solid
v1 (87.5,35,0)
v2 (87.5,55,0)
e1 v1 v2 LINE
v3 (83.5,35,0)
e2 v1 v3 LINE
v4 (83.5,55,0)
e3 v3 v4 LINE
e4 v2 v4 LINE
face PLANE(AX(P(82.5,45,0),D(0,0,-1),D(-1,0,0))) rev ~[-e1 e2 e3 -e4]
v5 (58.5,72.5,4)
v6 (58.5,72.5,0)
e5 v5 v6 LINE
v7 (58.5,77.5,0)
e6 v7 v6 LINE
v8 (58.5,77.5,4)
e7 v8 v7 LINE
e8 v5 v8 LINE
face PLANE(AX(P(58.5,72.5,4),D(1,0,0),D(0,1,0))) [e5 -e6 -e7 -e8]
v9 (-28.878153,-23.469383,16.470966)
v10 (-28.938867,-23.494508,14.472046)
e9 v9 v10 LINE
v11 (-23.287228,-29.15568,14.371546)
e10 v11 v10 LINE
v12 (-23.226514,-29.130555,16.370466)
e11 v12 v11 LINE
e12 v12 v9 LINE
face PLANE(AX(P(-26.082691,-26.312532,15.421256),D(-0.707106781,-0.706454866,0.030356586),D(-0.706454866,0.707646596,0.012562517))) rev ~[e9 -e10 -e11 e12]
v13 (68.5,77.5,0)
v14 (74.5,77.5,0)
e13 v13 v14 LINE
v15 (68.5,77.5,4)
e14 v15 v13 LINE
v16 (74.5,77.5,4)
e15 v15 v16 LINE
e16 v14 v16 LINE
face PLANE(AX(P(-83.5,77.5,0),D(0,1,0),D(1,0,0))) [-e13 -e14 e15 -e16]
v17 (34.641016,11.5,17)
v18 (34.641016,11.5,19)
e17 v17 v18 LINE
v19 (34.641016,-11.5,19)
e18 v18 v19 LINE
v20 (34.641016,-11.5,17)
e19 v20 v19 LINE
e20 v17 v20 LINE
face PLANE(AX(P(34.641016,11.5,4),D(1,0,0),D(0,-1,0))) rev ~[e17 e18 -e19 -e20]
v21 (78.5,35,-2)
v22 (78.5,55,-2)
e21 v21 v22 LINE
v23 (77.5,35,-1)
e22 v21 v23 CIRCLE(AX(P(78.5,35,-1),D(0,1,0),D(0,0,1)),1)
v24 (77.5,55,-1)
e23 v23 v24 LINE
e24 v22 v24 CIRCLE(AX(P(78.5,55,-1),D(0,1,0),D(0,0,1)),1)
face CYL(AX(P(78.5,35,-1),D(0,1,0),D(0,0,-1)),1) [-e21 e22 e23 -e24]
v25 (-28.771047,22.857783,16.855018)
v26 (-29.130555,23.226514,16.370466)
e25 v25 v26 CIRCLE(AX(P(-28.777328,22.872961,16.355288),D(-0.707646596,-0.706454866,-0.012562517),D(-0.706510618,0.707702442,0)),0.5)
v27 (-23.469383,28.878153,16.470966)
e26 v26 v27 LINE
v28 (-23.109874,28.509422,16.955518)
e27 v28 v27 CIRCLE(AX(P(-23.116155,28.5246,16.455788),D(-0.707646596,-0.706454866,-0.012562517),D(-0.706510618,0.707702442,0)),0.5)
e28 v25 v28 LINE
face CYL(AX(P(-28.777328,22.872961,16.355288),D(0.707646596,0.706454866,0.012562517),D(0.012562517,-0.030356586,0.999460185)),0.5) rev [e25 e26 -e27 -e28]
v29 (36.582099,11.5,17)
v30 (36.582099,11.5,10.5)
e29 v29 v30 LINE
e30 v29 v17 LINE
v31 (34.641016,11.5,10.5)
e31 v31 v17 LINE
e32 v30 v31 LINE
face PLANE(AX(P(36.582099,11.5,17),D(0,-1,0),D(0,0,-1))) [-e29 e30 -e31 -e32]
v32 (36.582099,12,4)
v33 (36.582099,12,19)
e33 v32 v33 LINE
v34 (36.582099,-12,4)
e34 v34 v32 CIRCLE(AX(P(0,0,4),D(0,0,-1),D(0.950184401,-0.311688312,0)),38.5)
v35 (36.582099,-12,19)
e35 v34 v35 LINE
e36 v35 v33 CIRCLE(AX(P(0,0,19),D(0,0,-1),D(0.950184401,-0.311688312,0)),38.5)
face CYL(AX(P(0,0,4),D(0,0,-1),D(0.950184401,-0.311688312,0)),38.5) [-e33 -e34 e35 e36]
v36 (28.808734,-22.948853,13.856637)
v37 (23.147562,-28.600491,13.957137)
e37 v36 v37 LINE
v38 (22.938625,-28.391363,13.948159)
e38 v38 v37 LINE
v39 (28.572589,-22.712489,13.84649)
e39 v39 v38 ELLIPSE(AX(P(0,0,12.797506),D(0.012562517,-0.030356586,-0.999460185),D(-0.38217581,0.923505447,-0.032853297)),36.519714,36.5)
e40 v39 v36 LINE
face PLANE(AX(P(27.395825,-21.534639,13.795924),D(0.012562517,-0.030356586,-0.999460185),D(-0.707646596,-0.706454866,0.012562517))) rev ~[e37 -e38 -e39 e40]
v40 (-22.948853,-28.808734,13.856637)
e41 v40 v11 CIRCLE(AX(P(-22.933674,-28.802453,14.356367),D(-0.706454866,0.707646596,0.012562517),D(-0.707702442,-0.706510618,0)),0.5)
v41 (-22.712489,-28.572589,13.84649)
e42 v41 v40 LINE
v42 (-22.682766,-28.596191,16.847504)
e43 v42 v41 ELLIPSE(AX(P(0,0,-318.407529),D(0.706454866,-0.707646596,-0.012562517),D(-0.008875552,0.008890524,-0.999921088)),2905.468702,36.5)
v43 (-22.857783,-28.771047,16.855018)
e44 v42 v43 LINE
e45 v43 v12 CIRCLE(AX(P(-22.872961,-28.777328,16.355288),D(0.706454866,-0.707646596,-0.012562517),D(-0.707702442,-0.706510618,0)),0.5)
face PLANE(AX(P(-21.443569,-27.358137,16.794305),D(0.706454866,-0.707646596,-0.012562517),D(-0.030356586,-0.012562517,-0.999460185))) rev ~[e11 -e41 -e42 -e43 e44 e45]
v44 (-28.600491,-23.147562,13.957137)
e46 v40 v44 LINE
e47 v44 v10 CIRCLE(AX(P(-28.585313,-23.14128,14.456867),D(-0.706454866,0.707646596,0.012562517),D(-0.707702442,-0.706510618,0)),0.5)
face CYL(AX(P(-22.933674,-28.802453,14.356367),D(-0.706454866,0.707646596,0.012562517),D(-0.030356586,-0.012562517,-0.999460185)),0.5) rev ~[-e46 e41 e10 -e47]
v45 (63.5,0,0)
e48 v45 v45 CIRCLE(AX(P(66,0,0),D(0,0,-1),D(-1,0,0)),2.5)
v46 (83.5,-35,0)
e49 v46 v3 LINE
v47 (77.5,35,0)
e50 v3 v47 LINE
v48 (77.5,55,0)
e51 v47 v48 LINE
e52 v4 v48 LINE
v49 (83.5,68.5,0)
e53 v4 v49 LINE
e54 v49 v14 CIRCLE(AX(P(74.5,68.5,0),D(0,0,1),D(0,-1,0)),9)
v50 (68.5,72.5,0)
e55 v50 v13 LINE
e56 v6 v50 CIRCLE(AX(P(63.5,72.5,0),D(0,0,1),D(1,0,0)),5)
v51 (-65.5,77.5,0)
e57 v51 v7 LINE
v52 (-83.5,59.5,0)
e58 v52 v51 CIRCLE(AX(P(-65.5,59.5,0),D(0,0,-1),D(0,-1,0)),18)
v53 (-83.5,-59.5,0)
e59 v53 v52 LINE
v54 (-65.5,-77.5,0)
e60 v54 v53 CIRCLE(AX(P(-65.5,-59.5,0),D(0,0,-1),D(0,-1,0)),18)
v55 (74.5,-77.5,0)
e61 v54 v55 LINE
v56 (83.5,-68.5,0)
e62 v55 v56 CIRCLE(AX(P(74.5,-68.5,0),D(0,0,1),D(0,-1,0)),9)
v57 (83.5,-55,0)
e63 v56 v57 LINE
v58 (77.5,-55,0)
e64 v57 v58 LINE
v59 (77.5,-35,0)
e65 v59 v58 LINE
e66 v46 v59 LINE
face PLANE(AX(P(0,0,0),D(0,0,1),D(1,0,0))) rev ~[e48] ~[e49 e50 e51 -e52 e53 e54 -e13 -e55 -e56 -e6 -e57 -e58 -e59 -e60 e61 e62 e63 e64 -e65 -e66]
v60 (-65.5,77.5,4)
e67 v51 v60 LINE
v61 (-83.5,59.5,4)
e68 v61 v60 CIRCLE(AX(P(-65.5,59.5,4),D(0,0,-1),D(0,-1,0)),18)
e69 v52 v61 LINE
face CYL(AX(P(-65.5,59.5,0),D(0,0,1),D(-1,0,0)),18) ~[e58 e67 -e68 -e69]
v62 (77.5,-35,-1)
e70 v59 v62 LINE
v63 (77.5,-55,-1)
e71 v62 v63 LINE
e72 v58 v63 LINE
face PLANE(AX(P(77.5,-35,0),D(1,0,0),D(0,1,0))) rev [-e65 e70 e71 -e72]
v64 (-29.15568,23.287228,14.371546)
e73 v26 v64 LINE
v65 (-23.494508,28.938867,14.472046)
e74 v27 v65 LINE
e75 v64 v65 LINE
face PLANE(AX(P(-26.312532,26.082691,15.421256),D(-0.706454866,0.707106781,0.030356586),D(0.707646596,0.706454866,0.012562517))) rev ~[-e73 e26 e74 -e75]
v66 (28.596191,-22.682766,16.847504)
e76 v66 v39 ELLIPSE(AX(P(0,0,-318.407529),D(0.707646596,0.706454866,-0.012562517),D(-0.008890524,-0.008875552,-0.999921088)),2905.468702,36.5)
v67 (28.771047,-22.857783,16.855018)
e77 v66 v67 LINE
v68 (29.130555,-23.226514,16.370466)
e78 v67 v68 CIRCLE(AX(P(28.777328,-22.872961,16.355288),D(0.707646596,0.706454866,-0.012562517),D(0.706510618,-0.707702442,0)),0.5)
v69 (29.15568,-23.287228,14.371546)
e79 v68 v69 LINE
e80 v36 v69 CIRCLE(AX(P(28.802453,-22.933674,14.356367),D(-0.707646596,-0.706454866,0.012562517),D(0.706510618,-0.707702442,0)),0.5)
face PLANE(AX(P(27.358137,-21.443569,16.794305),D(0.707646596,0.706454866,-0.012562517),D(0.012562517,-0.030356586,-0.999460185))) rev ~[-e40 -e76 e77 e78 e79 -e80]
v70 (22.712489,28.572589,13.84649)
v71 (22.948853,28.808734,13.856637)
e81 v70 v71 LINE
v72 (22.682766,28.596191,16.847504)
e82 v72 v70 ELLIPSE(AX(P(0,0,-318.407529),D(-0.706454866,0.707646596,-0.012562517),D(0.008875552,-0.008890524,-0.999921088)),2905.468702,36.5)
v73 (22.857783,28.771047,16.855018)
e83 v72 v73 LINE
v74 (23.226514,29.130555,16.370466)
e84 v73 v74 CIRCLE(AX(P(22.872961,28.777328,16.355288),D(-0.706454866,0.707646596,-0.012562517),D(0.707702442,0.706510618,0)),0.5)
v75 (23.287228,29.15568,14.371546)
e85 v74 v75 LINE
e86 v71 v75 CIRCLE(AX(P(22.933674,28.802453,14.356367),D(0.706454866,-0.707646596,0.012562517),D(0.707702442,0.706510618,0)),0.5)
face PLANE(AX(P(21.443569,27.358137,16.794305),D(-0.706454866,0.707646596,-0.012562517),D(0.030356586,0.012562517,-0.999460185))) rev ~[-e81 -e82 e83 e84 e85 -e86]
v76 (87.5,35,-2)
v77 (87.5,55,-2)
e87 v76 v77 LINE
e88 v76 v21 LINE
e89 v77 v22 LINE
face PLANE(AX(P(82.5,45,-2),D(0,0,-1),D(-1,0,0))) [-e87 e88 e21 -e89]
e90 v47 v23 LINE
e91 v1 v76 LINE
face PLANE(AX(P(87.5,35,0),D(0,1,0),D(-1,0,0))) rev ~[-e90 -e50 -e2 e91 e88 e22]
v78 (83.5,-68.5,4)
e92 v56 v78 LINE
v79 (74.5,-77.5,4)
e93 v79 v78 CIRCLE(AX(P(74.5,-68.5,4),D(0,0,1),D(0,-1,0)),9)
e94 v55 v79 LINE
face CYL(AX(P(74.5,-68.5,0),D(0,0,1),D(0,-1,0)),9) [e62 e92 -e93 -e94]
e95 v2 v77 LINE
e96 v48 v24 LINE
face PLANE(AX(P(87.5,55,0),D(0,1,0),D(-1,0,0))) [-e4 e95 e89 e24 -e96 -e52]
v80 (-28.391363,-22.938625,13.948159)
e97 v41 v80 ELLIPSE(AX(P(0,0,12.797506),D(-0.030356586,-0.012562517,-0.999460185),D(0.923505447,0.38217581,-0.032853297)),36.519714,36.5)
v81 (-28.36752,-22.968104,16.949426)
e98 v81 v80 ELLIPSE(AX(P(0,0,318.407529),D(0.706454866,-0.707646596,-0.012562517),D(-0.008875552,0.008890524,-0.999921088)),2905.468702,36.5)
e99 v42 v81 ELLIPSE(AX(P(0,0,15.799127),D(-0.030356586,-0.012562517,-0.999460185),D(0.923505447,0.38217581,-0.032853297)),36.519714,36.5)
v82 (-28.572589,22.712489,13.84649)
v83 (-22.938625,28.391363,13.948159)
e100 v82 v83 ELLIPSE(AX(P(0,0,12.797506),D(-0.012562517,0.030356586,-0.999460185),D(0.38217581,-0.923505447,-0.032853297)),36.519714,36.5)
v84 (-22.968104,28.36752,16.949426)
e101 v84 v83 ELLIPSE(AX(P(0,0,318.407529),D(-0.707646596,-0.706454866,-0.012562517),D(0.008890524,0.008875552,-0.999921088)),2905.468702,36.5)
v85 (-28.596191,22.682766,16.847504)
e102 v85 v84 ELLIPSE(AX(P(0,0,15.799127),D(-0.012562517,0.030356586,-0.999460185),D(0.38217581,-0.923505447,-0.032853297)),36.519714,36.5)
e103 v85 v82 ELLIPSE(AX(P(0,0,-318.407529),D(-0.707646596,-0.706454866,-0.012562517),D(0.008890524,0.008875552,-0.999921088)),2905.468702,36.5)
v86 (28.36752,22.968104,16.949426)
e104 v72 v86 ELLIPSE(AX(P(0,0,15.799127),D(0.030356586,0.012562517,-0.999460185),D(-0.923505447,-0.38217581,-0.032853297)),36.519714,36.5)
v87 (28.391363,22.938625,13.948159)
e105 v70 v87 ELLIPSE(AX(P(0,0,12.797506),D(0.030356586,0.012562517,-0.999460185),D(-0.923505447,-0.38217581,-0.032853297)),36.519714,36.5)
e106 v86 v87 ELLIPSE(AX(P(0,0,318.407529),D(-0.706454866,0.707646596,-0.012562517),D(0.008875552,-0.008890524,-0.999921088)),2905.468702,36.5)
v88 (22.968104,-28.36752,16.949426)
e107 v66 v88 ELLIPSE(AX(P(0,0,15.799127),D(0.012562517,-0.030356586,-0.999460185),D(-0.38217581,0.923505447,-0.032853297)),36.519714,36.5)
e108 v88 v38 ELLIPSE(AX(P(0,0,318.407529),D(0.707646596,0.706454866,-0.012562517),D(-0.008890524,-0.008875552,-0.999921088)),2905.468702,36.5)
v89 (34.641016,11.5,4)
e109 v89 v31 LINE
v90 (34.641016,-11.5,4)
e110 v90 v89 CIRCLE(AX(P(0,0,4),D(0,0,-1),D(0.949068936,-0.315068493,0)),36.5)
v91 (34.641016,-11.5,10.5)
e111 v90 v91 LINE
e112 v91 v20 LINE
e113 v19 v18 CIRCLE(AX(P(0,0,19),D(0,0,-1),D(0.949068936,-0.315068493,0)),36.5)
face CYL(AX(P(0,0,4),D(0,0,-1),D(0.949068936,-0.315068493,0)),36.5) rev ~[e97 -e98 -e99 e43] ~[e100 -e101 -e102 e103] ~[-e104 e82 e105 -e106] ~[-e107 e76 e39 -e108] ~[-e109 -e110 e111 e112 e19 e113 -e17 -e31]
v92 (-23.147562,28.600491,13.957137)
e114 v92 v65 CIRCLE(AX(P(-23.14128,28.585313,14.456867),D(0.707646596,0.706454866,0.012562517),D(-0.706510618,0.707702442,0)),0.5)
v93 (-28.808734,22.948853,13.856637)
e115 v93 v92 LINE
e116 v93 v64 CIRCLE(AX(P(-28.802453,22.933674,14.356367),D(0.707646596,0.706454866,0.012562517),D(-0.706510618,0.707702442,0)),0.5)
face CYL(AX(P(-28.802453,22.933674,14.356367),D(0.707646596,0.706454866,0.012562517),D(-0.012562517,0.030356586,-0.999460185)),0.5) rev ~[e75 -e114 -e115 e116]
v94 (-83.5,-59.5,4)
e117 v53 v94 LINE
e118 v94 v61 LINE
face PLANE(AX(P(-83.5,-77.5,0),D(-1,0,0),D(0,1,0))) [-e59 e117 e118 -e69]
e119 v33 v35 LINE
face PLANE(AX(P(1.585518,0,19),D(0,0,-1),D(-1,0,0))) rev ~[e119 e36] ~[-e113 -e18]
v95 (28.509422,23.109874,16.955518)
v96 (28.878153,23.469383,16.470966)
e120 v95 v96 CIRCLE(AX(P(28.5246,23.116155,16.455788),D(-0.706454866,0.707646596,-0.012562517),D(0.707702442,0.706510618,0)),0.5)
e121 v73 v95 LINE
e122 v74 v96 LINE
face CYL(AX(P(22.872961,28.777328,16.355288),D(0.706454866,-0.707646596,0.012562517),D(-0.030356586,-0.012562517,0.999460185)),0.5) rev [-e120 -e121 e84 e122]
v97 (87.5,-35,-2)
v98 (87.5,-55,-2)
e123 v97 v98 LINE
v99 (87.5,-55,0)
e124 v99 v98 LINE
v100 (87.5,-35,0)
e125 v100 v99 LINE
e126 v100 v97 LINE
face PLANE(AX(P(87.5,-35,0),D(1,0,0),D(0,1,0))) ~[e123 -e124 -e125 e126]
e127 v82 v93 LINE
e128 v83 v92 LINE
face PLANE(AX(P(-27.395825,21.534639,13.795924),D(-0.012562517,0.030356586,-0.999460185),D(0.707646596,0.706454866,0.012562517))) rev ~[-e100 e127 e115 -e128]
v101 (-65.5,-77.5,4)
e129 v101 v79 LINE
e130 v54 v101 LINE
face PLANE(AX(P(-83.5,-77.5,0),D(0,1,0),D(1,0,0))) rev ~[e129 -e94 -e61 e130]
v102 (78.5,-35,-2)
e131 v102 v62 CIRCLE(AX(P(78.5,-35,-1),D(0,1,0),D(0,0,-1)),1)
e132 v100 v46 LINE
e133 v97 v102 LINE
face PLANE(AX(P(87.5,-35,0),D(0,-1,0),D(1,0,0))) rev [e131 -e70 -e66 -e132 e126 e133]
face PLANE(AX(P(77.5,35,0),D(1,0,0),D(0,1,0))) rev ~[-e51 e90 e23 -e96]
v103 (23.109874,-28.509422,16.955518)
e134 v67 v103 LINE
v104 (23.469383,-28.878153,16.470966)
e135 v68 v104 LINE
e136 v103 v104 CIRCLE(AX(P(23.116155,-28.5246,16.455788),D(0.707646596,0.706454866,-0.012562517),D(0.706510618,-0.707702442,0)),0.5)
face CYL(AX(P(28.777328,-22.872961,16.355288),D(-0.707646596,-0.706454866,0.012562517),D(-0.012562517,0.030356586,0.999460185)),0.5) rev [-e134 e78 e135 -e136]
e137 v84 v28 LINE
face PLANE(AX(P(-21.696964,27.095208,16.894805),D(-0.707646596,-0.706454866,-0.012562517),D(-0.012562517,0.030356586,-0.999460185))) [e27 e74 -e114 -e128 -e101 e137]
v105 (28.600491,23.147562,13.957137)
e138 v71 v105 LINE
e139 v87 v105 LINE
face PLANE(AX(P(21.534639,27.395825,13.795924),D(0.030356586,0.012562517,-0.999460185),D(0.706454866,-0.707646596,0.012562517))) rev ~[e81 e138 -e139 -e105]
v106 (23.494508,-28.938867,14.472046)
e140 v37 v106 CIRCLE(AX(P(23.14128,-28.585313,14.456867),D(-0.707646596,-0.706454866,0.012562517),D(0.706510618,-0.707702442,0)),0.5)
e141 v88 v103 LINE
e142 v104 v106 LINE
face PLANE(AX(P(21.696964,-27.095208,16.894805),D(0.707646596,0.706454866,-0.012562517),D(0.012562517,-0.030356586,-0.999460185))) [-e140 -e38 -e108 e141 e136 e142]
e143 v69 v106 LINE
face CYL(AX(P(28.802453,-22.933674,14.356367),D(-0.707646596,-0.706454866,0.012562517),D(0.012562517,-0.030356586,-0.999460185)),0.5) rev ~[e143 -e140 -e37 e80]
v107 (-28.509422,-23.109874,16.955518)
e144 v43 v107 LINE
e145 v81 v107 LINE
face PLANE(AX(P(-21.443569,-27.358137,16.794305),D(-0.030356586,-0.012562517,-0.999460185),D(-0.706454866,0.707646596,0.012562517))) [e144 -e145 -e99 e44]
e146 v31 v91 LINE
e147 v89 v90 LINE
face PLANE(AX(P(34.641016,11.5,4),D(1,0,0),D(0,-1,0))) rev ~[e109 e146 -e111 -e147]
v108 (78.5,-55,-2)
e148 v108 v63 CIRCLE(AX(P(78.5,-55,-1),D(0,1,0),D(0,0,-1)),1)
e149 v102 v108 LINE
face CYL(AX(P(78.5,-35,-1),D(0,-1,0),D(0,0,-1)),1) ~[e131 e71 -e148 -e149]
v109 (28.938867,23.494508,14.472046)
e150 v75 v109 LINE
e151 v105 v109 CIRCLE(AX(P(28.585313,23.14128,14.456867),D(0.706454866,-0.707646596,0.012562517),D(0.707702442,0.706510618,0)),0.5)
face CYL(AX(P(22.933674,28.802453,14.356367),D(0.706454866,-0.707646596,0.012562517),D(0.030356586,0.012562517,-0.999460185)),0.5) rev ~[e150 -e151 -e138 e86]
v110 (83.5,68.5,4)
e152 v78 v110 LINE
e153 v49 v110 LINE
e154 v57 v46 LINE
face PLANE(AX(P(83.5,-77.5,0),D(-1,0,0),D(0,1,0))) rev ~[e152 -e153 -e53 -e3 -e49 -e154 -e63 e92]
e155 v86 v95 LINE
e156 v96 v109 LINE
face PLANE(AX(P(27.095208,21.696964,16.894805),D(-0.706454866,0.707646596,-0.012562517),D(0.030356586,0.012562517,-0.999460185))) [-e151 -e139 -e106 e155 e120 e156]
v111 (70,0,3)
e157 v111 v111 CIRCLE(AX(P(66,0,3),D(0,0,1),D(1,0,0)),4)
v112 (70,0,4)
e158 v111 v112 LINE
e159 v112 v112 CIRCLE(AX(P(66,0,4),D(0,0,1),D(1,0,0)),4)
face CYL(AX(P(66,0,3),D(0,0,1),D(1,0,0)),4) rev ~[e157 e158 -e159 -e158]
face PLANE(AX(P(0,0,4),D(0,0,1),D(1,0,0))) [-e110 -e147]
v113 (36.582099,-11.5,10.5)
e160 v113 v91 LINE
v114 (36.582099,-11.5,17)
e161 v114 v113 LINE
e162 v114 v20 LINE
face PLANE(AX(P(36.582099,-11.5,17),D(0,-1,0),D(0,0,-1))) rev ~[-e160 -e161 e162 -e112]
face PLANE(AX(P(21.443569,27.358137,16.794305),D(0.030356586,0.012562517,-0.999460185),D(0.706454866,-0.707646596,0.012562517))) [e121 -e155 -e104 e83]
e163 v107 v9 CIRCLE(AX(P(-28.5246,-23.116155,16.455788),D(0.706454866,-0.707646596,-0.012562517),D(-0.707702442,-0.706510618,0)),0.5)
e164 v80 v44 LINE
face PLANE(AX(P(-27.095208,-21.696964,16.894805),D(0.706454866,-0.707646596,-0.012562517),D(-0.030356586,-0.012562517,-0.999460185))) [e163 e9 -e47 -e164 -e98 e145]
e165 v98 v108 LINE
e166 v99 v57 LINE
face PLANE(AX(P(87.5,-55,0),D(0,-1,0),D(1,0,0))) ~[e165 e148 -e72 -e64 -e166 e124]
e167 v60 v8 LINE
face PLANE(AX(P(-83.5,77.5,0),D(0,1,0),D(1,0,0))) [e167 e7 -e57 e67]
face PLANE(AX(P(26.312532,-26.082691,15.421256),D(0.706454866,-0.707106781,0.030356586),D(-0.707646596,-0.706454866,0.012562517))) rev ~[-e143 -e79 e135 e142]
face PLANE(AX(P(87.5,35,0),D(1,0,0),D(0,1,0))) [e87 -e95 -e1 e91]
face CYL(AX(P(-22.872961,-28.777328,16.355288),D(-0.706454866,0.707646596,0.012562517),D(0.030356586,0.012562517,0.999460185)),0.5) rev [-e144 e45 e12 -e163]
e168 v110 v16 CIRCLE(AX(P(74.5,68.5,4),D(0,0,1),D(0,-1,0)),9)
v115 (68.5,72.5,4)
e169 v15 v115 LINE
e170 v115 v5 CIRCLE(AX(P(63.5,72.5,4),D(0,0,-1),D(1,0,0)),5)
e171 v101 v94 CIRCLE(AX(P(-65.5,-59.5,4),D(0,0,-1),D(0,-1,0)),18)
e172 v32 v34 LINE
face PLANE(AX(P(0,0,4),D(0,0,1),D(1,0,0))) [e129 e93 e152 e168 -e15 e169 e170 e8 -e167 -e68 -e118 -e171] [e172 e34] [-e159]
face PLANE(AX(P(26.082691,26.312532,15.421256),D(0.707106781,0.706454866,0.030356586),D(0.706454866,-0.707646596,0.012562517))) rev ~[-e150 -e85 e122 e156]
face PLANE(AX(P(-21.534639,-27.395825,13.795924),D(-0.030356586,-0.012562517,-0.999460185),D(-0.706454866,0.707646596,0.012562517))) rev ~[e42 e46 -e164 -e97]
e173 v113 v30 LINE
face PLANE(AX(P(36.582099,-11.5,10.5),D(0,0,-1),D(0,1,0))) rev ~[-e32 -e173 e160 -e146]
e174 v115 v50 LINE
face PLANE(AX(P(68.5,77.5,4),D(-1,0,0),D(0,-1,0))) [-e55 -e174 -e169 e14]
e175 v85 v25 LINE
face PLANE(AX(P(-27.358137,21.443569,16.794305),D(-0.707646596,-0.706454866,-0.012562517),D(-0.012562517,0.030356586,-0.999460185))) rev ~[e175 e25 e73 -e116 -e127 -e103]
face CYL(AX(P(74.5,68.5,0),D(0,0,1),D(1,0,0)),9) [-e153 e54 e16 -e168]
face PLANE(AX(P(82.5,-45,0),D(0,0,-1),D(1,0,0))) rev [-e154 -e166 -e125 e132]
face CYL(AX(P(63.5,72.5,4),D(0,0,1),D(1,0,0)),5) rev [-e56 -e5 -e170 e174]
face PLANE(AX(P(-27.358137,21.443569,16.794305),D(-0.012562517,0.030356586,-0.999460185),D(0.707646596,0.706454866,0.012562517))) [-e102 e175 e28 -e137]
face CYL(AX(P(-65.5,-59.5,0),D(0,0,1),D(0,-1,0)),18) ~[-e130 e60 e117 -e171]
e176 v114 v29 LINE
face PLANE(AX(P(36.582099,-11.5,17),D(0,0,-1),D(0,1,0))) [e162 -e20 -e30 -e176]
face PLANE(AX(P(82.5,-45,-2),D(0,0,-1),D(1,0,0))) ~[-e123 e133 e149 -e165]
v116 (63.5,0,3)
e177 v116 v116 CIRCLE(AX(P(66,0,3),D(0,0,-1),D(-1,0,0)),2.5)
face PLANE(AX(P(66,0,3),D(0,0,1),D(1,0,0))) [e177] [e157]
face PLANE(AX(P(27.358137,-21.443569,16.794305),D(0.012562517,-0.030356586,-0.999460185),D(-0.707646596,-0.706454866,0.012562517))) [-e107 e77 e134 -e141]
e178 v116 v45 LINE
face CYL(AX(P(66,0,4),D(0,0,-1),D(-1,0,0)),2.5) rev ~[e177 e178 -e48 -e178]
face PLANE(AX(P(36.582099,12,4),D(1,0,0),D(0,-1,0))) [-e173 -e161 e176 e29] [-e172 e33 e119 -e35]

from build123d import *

# Parameters (mm, degrees)
SKETCH_1_W                       = 167
SKETCH_1_H                       = 155
EXTRUDE_1_DEPTH                  = 4
FILLET_1_R                       = 9
FILLET_2_R                       = 18
CUT_EXTRUDE_1_REACH              = 115.993
HOLE_WIZARD_1_D                  = 5
HOLE_WIZARD_1_CBORE_D            = 8
HOLE_WIZARD_1_CBORE_DEPTH        = 1
EXTRUDE_3_DEPTH                  = 15
CUT_EXTRUDE_2_REACH              = 146.177
SKETCH_13_W                      = 6.5
SKETCH_13_H                      = 23
SKETCH_15_W                      = 8
SKETCH_15_H                      = 3
CUT_EXTRUDE_3_DEPTH              = 2.5
FILLET_3_R                       = 0.5
PATTERN_CIRCULAR_1_COUNT         = 4
FILLET_3_OF_PATTERN_CIRCULAR_1_R = 0.5
SKETCH_18_W                      = 10
SKETCH_18_H                      = 20
EXTRUDE_4_DEPTH                  = 2
FILLET_4_R                       = 1
FILLET_4_OF_MIRROR_1_R           = 1


with BuildPart() as part:
    # ｽｹｯﾁ1 → ﾎﾞｽ - 押し出し1 (new body)
    with BuildSketch(Plane.XY):
        Rectangle(SKETCH_1_W, SKETCH_1_H)
    extrude(amount=EXTRUDE_1_DEPTH)

    # ﾌｨﾚｯﾄ1
    fillet_1_edges = [part.edges().sort_by_distance(p)[0] for p in [
        (83.5, -77.5, 2),
        (83.5, 77.5, 2),
    ]]
    fillet(fillet_1_edges, radius=FILLET_1_R)

    # ﾌｨﾚｯﾄ2
    fillet_2_edges = [part.edges().sort_by_distance(p)[0] for p in [
        (-83.5, -77.5, 2),
        (-83.5, 77.5, 2),
    ]]
    fillet(fillet_2_edges, radius=FILLET_2_R)

    # ｽｹｯﾁ2 → ｶｯﾄ - 押し出し1 (cut, up to next)
    with BuildSketch(Plane.XY.offset(4), mode=Mode.PRIVATE) as cut_extrude_1_sk1:
        with BuildLine():
            Line((58.5, 77.5), (68.5, 77.5))
            Line((68.5, 77.5), (68.5, 72.5))
            ThreePointArc((68.5, 72.5), (63.5, 67.5), (58.5, 72.5))
            Line((58.5, 72.5), (58.5, 77.5))
        make_face()
    cut_extrude_1_tool1 = extrude(cut_extrude_1_sk1.sketch, amount=-CUT_EXTRUDE_1_REACH, mode=Mode.PRIVATE) & part.part
    add(cut_extrude_1_tool1.solids().sort_by_distance((63.5, 72.966749, 4))[0], mode=Mode.SUBTRACT)

    # 穴1 (through all)
    with Locations(Plane.XY.offset(4)):
        with Locations((66, 0)):
            CounterBoreHole(HOLE_WIZARD_1_D / 2, HOLE_WIZARD_1_CBORE_D / 2, HOLE_WIZARD_1_CBORE_DEPTH)

    # ｽｹｯﾁ11 → ﾎﾞｽ - 押し出し3 (add)
    with BuildSketch(Plane.XY.offset(4)):
        with BuildLine():
            Line((36.582099448, 12), (36.582099448, -12))
            ThreePointArc((36.582099448, -12), (-38.5, 0), (36.582099448, 12))
        make_face()
        with BuildLine():
            Line((34.641016151, 11.5), (34.641016151, -11.5))
            ThreePointArc((34.641016151, -11.5), (-36.5, 0), (34.641016151, 11.5))
        make_face(mode=Mode.SUBTRACT)
    extrude(amount=EXTRUDE_3_DEPTH)

    # ｽｹｯﾁ13 → ｶｯﾄ - 押し出し2 (cut, up to next)
    with BuildSketch(Plane(origin=(36.582099448, 0, 0), x_dir=(0, 0, -1), z_dir=(1, 0, 0)), mode=Mode.PRIVATE) as cut_extrude_2_sk1:
        with Locations((-13.75, 0)):
            Rectangle(SKETCH_13_W, SKETCH_13_H)
    cut_extrude_2_tool1 = extrude(cut_extrude_2_sk1.sketch, amount=-CUT_EXTRUDE_2_REACH, mode=Mode.PRIVATE) & part.part
    add(cut_extrude_2_tool1.solids().sort_by_distance((36.582099, 0, 13.75))[0], mode=Mode.SUBTRACT)

    # ｽｹｯﾁ15 → ｶｯﾄ - 押し出し3 (cut)
    with BuildSketch(Plane(origin=(-24.72592031, 24.748737342, 1.062480514), x_dir=(0.7076465964640425, 0.7064548659887622, 0.012562517011201728), z_dir=(-0.7064548659887622, 0.7071067811865462, 0.030356586119027387))):
        with Locations((0, -14.290598152)):
            Rectangle(SKETCH_15_W, SKETCH_15_H)
    cut_extrude_3 = extrude(amount=CUT_EXTRUDE_3_DEPTH, mode=Mode.SUBTRACT)

    # ﾌｨﾚｯﾄ3
    fillet_3_edges = [part.edges().sort_by_distance(p)[0] for p in [
        (-26.293687817, 26.037155642, 16.920446126),
        (-26.331375368, 26.1282254, 13.922065571),
    ]]
    fillet(fillet_3_edges, radius=FILLET_3_R)

    # 円形ﾊﾟﾀｰﾝ1: ｶｯﾄ - 押し出し3 ×4 about axis
    pattern_circular_1_axis = Axis((0, 0, 0), (0, 0, 1))
    for i in range(1, PATTERN_CIRCULAR_1_COUNT):
        add(cut_extrude_3.rotate(pattern_circular_1_axis, i * 360 / PATTERN_CIRCULAR_1_COUNT), mode=Mode.SUBTRACT)

    # ﾌｨﾚｯﾄ3 of 円形ﾊﾟﾀｰﾝ1
    fillet_3_of_pattern_circular_1_edges = [part.edges().sort_by_distance(p)[0] for p in [
        (-26.037155642, -26.293687817, 16.920446126),
        (-26.1282254, -26.331375368, 13.922065571),
        (26.293687817, -26.037155642, 16.920446126),
        (26.331375368, -26.1282254, 13.922065571),
        (26.037155642, 26.293687817, 16.920446126),
        (26.1282254, 26.331375368, 13.922065571),
    ]]
    fillet(fillet_3_of_pattern_circular_1_edges, radius=FILLET_3_OF_PATTERN_CIRCULAR_1_R)

    # ｽｹｯﾁ18 → ﾎﾞｽ - 押し出し4 (add)
    with BuildSketch(Plane(origin=(0, 0, 0), x_dir=(-1, 0, 0), z_dir=(0, 0, -1))):
        with Locations((-82.5, 45)):
            Rectangle(SKETCH_18_W, SKETCH_18_H)
    extrude_4 = extrude(amount=EXTRUDE_4_DEPTH)

    # ﾌｨﾚｯﾄ4
    fillet_4_edges = [part.edges().sort_by_distance(p)[0] for p in [
        (77.5, 45, -2),
    ]]
    fillet(fillet_4_edges, radius=FILLET_4_R)

    # ﾐﾗｰ1: ﾎﾞｽ - 押し出し4 across plane
    add(extrude_4.mirror(Plane.ZX))

    # ﾌｨﾚｯﾄ4 of ﾐﾗｰ1
    fillet_4_of_mirror_1_edges = [part.edges().sort_by_distance(p)[0] for p in [
        (77.5, -45, -2),
    ]]
    fillet(fillet_4_of_mirror_1_edges, radius=FILLET_4_OF_MIRROR_1_R)


solid = part.part
